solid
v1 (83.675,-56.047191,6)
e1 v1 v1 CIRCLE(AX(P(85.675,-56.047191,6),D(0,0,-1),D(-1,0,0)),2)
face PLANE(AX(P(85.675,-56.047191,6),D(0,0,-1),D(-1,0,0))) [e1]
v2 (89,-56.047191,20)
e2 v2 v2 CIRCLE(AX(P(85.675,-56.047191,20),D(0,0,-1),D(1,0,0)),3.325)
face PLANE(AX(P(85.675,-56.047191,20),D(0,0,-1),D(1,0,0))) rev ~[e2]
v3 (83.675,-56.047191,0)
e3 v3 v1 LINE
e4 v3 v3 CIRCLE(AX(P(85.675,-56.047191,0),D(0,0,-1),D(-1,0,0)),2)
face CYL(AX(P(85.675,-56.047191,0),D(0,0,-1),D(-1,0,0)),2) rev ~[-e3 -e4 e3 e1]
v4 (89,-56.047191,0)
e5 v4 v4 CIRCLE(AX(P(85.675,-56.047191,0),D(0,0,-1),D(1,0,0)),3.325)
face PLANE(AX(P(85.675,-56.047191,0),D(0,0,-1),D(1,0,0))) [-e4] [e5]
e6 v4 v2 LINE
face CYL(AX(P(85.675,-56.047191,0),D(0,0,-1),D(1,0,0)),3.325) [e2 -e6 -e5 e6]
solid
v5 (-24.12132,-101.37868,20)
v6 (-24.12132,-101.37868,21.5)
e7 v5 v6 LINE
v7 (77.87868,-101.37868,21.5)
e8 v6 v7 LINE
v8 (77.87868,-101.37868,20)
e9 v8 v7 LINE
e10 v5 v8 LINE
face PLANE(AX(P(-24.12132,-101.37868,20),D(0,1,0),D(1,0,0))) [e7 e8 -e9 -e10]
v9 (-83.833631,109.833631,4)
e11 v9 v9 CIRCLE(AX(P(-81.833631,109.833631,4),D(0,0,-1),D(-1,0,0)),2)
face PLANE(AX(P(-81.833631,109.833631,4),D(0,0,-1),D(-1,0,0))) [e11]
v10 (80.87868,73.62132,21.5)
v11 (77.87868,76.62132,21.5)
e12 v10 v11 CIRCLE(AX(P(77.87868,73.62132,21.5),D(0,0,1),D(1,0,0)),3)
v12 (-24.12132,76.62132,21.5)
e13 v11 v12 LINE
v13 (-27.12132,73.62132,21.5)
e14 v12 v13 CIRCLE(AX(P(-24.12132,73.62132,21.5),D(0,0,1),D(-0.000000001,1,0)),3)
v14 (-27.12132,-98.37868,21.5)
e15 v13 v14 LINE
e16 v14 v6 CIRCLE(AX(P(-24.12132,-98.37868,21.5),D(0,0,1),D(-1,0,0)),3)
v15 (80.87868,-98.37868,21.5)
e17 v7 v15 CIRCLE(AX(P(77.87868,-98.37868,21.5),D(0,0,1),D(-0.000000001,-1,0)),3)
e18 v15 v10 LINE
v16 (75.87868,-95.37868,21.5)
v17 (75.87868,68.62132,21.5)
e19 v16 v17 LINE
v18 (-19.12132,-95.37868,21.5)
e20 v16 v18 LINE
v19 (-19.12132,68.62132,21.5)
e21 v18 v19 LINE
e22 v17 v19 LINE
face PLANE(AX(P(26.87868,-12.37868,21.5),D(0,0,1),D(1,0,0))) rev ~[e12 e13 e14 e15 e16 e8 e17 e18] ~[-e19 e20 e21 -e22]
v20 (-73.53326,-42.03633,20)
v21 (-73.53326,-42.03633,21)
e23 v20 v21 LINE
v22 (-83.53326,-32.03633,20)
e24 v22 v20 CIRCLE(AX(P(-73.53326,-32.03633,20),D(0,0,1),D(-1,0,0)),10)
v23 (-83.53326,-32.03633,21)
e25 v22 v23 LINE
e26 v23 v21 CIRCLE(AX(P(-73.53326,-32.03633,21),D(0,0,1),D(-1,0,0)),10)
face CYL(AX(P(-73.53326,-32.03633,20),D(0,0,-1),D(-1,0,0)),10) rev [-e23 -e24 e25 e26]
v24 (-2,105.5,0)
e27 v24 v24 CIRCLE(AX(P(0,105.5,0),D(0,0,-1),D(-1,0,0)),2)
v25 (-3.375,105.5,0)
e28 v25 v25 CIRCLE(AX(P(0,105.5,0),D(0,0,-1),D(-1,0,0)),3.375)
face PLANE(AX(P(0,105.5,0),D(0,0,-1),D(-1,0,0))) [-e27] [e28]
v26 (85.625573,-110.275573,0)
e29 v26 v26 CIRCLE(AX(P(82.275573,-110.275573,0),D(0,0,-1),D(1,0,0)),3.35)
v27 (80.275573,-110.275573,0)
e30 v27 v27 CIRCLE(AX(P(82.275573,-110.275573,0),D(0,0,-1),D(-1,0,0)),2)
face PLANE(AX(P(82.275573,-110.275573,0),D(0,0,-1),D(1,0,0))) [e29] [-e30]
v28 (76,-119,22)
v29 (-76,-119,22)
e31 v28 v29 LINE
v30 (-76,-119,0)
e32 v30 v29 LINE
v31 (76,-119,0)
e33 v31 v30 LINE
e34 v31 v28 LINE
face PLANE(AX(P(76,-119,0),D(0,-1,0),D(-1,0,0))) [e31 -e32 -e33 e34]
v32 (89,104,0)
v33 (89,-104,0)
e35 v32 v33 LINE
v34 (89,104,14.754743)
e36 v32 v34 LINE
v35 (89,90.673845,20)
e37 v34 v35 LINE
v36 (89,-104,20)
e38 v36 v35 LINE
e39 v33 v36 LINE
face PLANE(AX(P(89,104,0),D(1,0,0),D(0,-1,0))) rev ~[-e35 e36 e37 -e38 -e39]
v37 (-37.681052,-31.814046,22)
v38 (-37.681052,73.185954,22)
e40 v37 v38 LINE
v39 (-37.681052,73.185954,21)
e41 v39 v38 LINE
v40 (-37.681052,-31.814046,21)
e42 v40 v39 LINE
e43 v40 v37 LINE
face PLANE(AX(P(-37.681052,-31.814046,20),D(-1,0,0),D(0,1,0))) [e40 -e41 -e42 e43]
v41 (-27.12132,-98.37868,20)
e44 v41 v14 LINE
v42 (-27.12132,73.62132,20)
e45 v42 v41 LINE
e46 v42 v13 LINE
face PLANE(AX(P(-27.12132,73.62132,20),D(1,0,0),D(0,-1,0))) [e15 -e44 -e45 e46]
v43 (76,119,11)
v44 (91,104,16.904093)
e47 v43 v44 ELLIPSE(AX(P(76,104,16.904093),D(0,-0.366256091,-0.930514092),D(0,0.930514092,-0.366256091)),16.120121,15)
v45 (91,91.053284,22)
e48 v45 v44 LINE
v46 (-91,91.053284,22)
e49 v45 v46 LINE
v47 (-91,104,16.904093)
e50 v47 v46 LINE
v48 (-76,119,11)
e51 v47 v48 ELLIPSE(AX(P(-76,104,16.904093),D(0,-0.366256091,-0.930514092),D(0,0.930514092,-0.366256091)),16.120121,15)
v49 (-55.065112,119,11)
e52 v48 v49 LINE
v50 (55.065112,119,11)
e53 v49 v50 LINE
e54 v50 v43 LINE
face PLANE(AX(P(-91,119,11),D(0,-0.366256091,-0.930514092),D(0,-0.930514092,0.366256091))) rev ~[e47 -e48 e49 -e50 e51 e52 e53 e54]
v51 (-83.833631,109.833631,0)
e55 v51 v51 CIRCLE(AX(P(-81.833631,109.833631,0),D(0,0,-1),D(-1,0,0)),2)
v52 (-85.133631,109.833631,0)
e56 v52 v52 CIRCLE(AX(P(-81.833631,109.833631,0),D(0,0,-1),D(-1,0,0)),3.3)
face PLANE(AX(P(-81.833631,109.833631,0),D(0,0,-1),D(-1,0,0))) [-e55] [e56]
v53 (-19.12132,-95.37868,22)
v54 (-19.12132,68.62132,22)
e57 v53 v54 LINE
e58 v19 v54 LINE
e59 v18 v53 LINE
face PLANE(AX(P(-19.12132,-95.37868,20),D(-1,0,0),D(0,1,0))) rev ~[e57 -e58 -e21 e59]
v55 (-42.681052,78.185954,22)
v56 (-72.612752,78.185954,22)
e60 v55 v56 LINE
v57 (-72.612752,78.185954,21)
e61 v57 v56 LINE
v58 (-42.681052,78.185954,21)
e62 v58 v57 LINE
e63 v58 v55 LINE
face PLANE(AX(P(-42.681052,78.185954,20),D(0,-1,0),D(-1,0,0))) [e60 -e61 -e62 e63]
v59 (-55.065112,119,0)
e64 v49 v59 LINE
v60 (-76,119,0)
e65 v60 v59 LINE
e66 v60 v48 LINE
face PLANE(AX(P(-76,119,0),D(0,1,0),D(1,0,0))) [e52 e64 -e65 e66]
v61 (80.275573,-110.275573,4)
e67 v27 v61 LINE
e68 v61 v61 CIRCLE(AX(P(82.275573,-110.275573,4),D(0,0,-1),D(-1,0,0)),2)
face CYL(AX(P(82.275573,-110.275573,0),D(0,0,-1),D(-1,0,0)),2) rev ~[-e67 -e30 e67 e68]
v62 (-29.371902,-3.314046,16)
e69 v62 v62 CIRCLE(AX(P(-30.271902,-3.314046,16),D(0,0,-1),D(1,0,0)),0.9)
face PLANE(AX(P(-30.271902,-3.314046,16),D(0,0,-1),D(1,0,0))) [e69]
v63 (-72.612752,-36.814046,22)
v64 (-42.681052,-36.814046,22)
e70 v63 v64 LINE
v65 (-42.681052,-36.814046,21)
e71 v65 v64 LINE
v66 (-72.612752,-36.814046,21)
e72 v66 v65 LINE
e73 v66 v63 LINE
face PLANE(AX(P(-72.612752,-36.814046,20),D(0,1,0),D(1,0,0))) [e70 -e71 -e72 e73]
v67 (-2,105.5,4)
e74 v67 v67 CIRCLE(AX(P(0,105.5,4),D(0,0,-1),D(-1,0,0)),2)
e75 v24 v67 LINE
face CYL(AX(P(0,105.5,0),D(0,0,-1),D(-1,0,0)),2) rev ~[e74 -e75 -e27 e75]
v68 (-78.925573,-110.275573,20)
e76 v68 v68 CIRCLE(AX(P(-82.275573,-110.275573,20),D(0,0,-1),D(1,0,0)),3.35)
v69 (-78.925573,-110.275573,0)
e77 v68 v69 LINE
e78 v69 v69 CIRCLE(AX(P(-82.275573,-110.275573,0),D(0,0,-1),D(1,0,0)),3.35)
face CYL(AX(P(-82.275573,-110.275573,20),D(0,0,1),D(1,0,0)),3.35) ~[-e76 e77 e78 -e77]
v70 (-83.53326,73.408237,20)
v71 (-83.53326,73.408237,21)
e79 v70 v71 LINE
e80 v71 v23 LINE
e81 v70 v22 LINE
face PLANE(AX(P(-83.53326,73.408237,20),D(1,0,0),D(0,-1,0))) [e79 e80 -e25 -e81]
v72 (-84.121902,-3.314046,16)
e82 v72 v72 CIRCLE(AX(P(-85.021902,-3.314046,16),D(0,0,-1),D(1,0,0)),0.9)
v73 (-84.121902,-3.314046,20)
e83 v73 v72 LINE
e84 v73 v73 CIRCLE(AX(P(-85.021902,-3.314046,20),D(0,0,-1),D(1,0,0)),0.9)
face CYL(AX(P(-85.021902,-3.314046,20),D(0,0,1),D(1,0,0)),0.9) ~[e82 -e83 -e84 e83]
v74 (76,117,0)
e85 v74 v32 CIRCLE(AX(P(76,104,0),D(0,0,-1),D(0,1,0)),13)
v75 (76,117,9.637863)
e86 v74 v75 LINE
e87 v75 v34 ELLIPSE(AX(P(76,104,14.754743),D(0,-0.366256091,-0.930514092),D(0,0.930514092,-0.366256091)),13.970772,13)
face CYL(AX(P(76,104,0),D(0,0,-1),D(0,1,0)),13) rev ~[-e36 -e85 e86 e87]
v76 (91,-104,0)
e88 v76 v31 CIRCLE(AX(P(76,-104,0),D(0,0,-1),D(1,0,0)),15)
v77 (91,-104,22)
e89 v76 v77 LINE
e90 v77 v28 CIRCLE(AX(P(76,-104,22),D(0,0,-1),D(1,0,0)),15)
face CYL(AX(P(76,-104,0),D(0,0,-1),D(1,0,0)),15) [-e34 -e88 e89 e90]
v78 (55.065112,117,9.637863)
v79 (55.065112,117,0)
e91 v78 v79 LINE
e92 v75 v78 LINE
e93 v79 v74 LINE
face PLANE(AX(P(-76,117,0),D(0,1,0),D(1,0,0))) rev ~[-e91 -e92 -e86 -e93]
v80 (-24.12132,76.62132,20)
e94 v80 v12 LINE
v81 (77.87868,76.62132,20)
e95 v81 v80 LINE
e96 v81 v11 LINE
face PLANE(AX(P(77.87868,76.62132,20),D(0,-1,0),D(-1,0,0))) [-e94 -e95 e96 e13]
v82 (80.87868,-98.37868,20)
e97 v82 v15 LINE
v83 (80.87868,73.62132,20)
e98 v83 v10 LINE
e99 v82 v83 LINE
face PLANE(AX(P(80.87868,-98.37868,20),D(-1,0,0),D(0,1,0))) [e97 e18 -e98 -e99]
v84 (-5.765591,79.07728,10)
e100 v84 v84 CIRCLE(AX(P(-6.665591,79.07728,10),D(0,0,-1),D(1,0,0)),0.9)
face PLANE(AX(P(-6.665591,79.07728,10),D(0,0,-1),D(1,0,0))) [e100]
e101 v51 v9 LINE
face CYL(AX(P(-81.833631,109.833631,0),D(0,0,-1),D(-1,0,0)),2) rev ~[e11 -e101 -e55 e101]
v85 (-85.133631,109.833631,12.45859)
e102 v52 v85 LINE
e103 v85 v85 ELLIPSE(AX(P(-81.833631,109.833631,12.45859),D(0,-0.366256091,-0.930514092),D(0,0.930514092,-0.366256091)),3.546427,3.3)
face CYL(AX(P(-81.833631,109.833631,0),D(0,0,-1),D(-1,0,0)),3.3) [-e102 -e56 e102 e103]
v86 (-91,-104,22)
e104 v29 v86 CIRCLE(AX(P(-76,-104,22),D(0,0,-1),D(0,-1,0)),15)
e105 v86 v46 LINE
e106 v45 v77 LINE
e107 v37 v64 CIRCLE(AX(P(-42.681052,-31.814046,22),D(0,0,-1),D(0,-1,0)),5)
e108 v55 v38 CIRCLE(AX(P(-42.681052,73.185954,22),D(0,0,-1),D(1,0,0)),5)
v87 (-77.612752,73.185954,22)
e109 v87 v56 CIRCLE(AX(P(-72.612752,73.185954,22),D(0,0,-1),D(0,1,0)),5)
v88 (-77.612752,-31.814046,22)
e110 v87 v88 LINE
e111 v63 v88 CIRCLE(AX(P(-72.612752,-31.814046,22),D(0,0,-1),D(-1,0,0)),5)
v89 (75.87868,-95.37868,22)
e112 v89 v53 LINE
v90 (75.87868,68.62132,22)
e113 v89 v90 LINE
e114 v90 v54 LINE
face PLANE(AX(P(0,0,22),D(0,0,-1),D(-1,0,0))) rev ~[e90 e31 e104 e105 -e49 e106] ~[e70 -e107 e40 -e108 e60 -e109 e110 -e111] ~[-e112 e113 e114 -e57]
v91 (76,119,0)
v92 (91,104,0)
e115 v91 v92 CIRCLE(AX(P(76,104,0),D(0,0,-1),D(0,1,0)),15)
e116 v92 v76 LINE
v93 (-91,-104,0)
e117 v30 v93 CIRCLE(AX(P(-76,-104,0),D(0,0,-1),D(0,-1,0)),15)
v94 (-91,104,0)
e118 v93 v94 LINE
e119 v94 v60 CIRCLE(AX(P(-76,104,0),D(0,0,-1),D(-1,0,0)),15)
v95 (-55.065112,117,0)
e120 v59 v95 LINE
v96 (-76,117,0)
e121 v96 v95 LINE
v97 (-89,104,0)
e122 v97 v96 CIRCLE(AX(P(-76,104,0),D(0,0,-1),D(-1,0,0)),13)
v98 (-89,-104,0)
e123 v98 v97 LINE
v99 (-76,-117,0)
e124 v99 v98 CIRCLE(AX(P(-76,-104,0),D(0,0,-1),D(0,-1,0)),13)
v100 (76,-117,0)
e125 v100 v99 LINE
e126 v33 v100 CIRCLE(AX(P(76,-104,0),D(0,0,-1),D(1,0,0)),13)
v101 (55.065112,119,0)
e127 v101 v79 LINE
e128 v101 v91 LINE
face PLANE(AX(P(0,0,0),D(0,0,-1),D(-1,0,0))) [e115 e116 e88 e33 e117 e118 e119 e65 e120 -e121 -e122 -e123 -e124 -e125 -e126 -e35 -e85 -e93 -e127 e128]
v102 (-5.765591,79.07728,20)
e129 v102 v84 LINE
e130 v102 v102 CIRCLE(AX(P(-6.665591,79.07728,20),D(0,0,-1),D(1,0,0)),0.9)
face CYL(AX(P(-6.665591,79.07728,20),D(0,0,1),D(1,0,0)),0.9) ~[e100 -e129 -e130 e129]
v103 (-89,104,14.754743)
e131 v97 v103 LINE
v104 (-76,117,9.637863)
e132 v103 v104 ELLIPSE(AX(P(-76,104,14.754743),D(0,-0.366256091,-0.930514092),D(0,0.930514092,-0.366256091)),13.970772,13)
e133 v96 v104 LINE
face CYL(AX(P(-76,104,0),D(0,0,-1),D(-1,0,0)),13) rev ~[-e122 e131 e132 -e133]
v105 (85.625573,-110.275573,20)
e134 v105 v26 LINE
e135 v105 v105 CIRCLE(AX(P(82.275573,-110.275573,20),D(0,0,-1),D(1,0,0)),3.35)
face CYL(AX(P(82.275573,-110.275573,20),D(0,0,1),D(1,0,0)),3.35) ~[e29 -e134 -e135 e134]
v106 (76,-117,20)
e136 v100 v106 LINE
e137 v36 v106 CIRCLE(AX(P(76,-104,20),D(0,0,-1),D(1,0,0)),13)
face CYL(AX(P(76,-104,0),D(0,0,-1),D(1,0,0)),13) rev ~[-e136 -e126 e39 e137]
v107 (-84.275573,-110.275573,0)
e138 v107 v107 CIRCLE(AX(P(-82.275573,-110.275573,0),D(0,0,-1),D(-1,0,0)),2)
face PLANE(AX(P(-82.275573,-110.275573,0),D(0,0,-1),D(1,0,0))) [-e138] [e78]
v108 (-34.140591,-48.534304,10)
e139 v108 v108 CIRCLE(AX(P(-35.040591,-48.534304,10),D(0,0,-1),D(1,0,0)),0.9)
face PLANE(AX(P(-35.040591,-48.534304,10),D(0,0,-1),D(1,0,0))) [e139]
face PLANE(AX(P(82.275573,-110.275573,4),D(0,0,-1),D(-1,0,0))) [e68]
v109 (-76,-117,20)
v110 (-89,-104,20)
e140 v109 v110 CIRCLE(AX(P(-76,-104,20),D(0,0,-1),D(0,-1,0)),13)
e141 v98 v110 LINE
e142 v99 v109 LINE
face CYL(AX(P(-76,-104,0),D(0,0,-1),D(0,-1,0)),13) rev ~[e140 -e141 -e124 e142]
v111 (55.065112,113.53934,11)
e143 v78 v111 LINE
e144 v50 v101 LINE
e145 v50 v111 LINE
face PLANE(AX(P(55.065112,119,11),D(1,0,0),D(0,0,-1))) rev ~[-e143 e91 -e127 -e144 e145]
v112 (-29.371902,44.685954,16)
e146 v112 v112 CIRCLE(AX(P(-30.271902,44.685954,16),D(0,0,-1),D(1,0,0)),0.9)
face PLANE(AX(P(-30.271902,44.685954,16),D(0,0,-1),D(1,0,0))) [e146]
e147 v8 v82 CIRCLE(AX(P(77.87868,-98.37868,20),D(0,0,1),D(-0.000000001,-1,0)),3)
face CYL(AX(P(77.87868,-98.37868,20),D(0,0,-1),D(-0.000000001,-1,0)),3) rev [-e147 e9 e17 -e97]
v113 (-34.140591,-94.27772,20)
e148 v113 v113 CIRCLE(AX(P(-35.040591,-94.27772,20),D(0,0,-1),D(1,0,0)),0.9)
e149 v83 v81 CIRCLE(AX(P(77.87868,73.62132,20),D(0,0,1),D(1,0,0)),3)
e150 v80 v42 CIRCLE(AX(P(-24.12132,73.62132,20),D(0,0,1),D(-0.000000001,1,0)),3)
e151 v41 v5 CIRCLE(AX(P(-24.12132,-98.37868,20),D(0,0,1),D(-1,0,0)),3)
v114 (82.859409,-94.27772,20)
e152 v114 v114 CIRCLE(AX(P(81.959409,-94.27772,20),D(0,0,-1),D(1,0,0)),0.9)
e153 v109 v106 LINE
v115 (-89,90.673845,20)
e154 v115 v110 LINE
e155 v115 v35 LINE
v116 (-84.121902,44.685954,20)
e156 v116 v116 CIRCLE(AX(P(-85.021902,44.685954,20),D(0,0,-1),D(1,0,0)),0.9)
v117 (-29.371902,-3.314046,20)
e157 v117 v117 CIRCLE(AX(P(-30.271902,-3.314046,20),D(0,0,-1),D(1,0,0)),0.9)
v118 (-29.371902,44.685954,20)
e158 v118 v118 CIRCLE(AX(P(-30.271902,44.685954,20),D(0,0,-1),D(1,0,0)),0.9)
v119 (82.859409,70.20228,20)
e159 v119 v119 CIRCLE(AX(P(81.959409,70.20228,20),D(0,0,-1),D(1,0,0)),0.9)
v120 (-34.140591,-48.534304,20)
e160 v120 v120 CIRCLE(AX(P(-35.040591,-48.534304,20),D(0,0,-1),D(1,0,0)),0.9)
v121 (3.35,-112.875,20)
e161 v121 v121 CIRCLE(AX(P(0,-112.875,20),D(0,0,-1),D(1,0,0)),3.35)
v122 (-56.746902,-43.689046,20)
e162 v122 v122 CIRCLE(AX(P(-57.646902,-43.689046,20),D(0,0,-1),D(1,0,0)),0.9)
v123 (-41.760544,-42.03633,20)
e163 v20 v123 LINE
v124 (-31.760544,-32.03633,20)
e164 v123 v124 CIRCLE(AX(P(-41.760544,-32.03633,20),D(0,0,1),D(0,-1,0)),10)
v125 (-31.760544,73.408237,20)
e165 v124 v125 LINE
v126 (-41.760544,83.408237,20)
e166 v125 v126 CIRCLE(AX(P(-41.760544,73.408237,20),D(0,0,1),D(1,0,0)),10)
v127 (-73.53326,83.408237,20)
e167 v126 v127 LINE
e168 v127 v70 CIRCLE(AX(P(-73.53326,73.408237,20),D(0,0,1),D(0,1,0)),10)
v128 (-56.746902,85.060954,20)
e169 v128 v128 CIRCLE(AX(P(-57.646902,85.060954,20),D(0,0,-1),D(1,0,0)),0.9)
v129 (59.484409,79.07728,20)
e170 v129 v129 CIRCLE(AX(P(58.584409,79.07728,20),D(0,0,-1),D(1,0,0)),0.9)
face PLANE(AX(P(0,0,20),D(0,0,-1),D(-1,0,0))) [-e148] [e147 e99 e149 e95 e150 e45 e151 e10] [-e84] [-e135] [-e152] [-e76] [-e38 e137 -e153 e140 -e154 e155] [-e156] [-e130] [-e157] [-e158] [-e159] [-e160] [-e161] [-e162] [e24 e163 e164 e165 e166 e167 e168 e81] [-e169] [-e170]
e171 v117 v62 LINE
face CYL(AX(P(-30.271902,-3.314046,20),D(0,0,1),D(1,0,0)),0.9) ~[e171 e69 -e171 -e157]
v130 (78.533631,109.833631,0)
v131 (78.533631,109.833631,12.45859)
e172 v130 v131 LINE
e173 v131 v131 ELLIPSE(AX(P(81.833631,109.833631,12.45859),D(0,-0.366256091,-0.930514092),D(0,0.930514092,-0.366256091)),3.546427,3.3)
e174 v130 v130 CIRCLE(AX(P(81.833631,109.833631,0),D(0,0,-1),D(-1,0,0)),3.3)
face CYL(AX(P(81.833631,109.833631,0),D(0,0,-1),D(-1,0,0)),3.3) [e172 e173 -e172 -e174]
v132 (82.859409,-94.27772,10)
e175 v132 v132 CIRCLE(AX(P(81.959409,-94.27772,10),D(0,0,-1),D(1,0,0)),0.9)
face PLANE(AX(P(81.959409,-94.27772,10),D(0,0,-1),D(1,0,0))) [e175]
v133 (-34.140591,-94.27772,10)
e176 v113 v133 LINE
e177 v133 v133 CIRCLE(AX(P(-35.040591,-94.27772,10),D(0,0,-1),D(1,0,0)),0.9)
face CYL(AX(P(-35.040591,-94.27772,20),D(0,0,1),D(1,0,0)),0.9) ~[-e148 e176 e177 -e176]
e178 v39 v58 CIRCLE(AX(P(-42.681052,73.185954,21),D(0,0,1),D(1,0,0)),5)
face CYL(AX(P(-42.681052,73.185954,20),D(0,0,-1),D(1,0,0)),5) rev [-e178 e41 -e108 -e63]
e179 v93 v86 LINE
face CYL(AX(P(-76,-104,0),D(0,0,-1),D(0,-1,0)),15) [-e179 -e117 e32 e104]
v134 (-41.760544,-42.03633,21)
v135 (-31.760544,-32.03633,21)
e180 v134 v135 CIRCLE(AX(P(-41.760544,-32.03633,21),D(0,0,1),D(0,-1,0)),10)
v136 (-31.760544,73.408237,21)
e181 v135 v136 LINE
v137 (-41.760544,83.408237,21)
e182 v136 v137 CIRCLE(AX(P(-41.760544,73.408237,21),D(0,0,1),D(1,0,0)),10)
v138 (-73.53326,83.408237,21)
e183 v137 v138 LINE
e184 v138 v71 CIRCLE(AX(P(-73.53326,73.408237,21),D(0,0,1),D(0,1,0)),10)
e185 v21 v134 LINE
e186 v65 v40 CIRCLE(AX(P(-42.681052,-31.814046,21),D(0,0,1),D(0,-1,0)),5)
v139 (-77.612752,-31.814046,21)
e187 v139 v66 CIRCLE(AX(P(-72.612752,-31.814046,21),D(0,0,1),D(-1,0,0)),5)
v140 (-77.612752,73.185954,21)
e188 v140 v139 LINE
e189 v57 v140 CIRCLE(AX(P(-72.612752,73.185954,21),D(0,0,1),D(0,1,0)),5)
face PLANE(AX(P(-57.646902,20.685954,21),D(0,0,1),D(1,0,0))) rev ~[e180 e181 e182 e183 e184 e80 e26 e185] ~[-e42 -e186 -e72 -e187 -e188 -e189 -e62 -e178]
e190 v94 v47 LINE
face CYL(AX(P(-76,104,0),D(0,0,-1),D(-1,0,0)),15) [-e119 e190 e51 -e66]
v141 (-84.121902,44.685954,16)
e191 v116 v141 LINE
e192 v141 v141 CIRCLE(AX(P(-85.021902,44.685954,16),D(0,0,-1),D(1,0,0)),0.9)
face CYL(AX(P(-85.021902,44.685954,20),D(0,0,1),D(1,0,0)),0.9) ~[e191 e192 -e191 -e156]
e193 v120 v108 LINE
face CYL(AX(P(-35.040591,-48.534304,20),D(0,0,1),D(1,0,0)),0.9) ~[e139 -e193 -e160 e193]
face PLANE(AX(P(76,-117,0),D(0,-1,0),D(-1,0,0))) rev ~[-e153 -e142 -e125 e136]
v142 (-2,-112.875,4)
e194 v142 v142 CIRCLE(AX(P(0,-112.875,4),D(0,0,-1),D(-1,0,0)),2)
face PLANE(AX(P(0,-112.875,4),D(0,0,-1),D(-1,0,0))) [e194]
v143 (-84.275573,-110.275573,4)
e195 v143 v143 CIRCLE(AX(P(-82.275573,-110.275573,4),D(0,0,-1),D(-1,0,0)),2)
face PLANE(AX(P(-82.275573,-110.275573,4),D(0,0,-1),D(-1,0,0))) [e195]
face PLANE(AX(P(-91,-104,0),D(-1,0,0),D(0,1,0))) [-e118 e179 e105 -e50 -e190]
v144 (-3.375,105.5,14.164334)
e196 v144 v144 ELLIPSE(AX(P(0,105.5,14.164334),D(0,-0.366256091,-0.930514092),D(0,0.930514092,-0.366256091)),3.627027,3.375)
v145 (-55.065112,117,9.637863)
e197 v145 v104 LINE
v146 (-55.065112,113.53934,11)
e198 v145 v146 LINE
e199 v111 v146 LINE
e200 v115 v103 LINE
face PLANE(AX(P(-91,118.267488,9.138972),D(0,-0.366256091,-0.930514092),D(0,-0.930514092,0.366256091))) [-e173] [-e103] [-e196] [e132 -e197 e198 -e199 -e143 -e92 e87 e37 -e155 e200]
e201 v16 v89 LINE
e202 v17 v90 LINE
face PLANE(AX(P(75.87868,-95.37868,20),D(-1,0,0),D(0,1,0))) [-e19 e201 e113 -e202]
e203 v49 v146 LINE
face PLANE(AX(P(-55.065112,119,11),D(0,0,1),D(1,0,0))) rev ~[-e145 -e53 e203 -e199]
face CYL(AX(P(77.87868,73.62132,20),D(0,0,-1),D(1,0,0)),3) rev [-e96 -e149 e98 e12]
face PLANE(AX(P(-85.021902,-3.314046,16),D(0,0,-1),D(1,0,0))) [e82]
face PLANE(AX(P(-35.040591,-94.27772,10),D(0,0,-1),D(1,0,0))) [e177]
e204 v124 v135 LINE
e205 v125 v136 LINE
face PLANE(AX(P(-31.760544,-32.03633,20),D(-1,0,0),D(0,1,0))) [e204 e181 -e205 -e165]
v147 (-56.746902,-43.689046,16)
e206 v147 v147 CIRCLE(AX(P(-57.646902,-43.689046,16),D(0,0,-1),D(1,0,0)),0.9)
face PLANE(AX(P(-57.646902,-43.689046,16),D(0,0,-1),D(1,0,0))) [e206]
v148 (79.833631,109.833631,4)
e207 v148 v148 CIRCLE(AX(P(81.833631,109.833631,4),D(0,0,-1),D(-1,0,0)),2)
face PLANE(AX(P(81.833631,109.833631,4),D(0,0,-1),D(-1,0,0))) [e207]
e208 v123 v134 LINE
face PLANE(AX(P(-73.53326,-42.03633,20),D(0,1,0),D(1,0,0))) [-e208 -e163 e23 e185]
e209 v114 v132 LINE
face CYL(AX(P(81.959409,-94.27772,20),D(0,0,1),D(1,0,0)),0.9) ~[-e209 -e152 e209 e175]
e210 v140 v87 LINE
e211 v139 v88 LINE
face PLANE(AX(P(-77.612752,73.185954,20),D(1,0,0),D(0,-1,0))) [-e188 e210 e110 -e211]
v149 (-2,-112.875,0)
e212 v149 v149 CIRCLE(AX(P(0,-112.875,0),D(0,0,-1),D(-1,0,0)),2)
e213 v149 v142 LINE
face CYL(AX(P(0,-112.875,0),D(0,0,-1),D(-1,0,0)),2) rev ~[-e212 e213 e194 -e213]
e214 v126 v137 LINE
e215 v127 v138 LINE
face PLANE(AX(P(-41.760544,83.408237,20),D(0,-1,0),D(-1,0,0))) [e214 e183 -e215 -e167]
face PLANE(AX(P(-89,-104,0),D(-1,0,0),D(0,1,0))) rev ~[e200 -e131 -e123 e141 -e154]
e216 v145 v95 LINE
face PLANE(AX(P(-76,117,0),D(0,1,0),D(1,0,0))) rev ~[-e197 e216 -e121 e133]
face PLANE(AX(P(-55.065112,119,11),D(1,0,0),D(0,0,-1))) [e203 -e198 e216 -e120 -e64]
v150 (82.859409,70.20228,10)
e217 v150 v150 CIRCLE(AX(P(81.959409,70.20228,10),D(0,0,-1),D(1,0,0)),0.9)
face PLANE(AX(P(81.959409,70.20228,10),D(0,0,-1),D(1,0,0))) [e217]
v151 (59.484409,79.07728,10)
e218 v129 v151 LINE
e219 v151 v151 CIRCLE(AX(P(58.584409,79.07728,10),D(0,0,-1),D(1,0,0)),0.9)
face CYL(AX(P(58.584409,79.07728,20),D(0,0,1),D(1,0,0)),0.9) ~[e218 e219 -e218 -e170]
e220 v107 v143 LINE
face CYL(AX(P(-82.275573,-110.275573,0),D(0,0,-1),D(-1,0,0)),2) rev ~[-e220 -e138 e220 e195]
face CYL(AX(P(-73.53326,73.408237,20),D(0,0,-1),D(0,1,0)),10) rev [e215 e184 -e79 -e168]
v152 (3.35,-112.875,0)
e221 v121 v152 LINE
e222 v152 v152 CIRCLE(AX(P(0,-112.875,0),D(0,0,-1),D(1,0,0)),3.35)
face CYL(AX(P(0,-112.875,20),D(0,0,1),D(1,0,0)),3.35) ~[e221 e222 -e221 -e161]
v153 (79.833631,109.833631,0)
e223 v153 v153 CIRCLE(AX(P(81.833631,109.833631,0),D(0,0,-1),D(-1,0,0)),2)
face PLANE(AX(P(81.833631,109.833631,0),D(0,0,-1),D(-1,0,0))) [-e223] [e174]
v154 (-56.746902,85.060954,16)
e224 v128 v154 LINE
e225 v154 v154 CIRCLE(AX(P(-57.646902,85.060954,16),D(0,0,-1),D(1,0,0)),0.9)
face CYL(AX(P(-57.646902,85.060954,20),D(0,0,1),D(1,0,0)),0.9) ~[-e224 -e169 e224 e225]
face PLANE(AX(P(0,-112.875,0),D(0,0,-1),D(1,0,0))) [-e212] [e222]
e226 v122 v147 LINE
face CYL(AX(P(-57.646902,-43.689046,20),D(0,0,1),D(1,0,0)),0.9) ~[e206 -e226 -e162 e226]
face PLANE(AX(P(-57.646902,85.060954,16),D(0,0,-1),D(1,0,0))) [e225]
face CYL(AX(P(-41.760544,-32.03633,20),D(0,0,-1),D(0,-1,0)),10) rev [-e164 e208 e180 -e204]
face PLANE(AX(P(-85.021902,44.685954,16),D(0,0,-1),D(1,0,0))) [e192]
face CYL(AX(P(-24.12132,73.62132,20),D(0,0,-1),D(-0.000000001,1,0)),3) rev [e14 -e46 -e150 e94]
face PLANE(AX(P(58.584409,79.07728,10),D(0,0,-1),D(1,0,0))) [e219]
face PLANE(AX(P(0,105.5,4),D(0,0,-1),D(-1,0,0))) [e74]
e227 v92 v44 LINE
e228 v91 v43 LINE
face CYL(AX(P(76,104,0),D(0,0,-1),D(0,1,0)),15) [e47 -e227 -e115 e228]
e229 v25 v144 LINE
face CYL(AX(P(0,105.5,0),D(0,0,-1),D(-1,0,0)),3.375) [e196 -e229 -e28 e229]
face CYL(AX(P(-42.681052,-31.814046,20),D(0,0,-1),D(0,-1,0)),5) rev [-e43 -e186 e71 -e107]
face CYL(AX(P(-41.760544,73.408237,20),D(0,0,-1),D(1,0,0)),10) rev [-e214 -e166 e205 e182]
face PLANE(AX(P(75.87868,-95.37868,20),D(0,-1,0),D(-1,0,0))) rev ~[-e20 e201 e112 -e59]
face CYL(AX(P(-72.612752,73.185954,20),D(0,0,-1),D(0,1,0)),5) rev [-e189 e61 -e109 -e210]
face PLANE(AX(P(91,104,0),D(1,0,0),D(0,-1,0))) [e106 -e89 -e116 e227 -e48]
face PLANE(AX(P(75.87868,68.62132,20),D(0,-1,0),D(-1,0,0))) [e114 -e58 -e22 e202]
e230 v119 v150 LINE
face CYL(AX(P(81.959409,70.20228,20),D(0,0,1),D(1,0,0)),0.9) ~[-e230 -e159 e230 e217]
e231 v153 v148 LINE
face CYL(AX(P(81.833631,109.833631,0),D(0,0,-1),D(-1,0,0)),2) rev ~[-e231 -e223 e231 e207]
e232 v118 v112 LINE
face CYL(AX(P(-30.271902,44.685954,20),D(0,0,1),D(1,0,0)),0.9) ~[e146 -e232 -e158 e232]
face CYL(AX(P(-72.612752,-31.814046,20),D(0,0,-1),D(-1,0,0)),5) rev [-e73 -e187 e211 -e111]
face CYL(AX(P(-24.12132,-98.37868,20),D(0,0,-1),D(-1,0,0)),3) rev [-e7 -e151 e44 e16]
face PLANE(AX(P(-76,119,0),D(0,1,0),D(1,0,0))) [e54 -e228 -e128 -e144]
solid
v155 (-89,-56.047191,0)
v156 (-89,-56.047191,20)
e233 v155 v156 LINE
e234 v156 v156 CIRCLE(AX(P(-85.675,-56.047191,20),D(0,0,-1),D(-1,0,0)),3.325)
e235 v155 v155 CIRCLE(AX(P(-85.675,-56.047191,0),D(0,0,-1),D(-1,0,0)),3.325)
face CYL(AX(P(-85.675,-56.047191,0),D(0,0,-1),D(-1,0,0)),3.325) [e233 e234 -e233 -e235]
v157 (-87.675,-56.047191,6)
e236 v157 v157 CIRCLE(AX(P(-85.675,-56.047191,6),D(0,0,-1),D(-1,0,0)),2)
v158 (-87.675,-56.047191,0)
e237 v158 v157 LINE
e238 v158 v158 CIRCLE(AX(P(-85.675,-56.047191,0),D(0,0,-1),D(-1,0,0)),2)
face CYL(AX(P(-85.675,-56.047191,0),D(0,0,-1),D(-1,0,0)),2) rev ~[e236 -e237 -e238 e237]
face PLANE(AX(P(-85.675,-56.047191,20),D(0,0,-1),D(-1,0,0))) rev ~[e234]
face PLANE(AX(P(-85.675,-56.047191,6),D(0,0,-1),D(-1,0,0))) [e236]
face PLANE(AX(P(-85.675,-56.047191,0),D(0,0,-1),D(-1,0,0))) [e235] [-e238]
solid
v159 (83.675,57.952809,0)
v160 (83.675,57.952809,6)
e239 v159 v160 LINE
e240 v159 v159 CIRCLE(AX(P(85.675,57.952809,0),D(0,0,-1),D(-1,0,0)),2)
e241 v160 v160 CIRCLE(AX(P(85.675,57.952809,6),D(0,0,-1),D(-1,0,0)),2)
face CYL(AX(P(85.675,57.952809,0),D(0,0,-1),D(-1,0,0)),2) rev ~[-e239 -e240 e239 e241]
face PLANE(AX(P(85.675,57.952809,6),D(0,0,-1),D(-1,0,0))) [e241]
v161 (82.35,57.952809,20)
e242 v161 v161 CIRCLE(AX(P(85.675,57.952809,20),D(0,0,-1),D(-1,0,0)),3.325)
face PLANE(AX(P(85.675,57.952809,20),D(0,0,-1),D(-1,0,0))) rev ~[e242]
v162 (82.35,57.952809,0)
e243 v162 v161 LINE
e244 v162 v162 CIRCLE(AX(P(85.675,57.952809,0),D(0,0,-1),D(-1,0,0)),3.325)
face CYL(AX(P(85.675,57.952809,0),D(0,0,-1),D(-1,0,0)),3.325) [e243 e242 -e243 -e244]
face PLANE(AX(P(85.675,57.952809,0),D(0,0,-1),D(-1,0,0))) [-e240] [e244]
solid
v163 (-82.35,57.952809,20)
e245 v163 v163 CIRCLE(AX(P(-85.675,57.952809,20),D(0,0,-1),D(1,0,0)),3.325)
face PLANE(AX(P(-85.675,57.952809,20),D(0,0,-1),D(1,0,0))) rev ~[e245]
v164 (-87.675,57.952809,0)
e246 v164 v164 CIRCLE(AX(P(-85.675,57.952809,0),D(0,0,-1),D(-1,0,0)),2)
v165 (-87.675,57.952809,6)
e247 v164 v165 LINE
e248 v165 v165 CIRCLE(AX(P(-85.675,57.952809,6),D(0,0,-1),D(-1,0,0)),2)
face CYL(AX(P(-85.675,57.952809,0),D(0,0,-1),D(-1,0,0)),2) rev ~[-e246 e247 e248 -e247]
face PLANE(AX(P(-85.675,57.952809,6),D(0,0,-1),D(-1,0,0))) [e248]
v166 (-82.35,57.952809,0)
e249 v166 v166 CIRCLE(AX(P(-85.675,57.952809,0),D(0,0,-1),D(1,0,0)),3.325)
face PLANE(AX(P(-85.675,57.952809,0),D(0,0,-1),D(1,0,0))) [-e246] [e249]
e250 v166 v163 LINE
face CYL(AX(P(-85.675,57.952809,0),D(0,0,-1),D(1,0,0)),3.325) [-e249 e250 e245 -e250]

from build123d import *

# Parameters (mm, degrees)
BOSS_EXTRUDE1_DEPTH    = 22
CUT_EXTRUDE2_DEPTH     = 190.5
SHELL2_T               = -2
SKETCH5_R              = 3.35
BOSS_EXTRUDE7_DEPTH    = 20
BOSS_EXTRUDE8_REACH    = 153.413
SKETCH6_R              = 3.375
SKETCH6_R_2            = 3.3
SKETCH7_R              = 2
CUT_EXTRUDE3_DEPTH     = 4
SKETCH8_W              = 110.130223608
SKETCH8_H              = 11
CUT_EXTRUDE4_DEPTH     = 10
SKETCH9_R              = 3.325
BOSS_EXTRUDE10_DEPTH   = 20
BOSS_EXTRUDE10_2_DEPTH = 20
BOSS_EXTRUDE10_3_DEPTH = 20
BOSS_EXTRUDE10_4_DEPTH = 20
SKETCH10_R             = 2
CUT_EXTRUDE5_DEPTH     = 6
SKETCH12_W             = 95
SKETCH12_H             = 164
CUT_EXTRUDE6_DEPTH     = 10
SKETCH12_3_W           = 95
SKETCH12_3_H           = 164
CUT_EXTRUDE7_DEPTH     = 1.5
CUT_EXTRUDE8_DEPTH     = 10
CUT_EXTRUDE10_DEPTH    = 1
SKETCH14_R             = 0.9
BOSS_EXTRUDE11_DEPTH   = 4
SKETCH15_R             = 0.9
BOSS_EXTRUDE12_DEPTH   = 10


with BuildPart() as part:
    # Sketch1 → Boss-Extrude1 (new body)
    with BuildSketch(Plane.XY):
        with BuildLine():
            Line((-76, 119), (76, 119))
            ThreePointArc((76, 119), (86.606601718, 114.606601718), (91, 104))
            Line((91, 104), (91, -104))
            ThreePointArc((91, -104), (86.606601718, -114.606601718), (76, -119))
            Line((76, -119), (-76, -119))
            ThreePointArc((-76, -119), (-86.606601718, -114.606601718), (-91, -104))
            Line((-91, -104), (-91, 104))
            ThreePointArc((-91, 104), (-86.606601718, 114.606601718), (-76, 119))
        make_face()
    extrude(amount=BOSS_EXTRUDE1_DEPTH)

    # Sketch3 → Cut-Extrude2 (cut, symmetric)
    with BuildSketch(Plane.ZY.offset(91)):
        Polygon((11, 119), (22, 91.053283882), (22, 119), align=None)
    extrude(amount=CUT_EXTRUDE2_DEPTH, both=True, mode=Mode.SUBTRACT)

    # Shell2
    shell2_openings = [part.faces().sort_by_distance(p)[0] for p in [
        (0, 0, 0),
    ]]
    offset(amount=SHELL2_T, openings=shell2_openings, kind=Kind.INTERSECTION)

    # Sketch5 → Boss-Extrude7 (add)
    with BuildSketch(Plane(origin=(0, 0, 20), x_dir=(-1, 0, 0), z_dir=(0, 0, -1))):
        with Locations(Location((0, -112.875, 0), (0, 0, 180))):
            Circle(SKETCH5_R)
        with Locations(Location((-82.275572683, -110.275572683, 0), (0, 0, 180))):
            Circle(SKETCH5_R)
        with Locations(Location((82.275572683, -110.275572683, 0), (0, 0, 180))):
            Circle(SKETCH5_R)
    extrude(amount=BOSS_EXTRUDE7_DEPTH)

    # Boss-Extrude8: up to this plane
    boss_extrude8_end = Plane(origin=(99.5, 118.267487817, 9.138971816), z_dir=(0, -0.3662560913903144, -0.9305140920585189))
    # Sketch6 → Boss-Extrude8 (add, up to the surface)
    with BuildSketch(Plane(origin=(0, 0, 0), x_dir=(-1, 0, 0), z_dir=(0, 0, -1)), mode=Mode.PRIVATE) as boss_extrude8_sk1:
        with Locations((0, 105.5)):
            Circle(SKETCH6_R)
    boss_extrude8_tool1 = split(extrude(boss_extrude8_sk1.sketch, amount=-BOSS_EXTRUDE8_REACH, mode=Mode.PRIVATE), bisect_by=boss_extrude8_end, keep=Keep.BOTH, mode=Mode.PRIVATE)
    add(boss_extrude8_tool1.solids().sort_by_distance((0, 105.5, 0))[0])
    # Sketch6 → Boss-Extrude8 (add, up to the surface)
    with BuildSketch(Plane(origin=(0, 0, 0), x_dir=(-1, 0, 0), z_dir=(0, 0, -1)), mode=Mode.PRIVATE) as boss_extrude8_sk2:
        with Locations((-81.833630945, 109.833630945)):
            Circle(SKETCH6_R_2)
    boss_extrude8_tool2 = split(extrude(boss_extrude8_sk2.sketch, amount=-BOSS_EXTRUDE8_REACH, mode=Mode.PRIVATE), bisect_by=boss_extrude8_end, keep=Keep.BOTH, mode=Mode.PRIVATE)
    add(boss_extrude8_tool2.solids().sort_by_distance((81.833631, 109.833631, 0))[0])
    # Sketch6 → Boss-Extrude8 (add, up to the surface)
    with BuildSketch(Plane(origin=(0, 0, 0), x_dir=(-1, 0, 0), z_dir=(0, 0, -1)), mode=Mode.PRIVATE) as boss_extrude8_sk3:
        with Locations((81.833630945, 109.833630945)):
            Circle(SKETCH6_R_2)
    boss_extrude8_tool3 = split(extrude(boss_extrude8_sk3.sketch, amount=-BOSS_EXTRUDE8_REACH, mode=Mode.PRIVATE), bisect_by=boss_extrude8_end, keep=Keep.BOTH, mode=Mode.PRIVATE)
    add(boss_extrude8_tool3.solids().sort_by_distance((-81.833631, 109.833631, 0))[0])

    # Sketch7 → Cut-Extrude3 (cut)
    with BuildSketch(Plane(origin=(0, 0, 0), x_dir=(-1, 0, 0), z_dir=(0, 0, -1))):
        with Locations((-82.275572683, -110.275572683)):
            Circle(SKETCH7_R)
        with Locations((0, -112.875)):
            Circle(SKETCH7_R)
        with Locations((82.275572683, -110.275572683)):
            Circle(SKETCH7_R)
        with Locations((81.833630945, 109.833630945)):
            Circle(SKETCH7_R)
        with Locations((0, 105.5)):
            Circle(SKETCH7_R)
        with Locations((-81.833630945, 109.833630945)):
            Circle(SKETCH7_R)
    extrude(amount=-CUT_EXTRUDE3_DEPTH, mode=Mode.SUBTRACT)

    # Sketch8 → Cut-Extrude4 (cut)
    with BuildSketch(Plane(origin=(0, 119, 0), x_dir=(1, 0, 0), z_dir=(0, 1, 0))):
        with Locations((0, -5.5)):
            Rectangle(SKETCH8_W, SKETCH8_H)
    extrude(amount=-CUT_EXTRUDE4_DEPTH, mode=Mode.SUBTRACT)

    # Sketch12 → Cut-Extrude6 (cut)
    with BuildSketch(Plane(origin=(0, 0, 20), x_dir=(-1, 0, 0), z_dir=(0, 0, -1))):
        with Locations((-28.378679656, -13.378679656)):
            Rectangle(SKETCH12_W, SKETCH12_H)
    extrude(amount=-CUT_EXTRUDE6_DEPTH, mode=Mode.SUBTRACT)

    # Sketch12<3> → Cut-Extrude7 (cut)
    with BuildSketch(Plane(origin=(0, 0, 20), x_dir=(-1, 0, 0), z_dir=(0, 0, -1))):
        with BuildLine():
            Line((-77.878679656, 76.621320344), (24.121320344, 76.621320344))
            ThreePointArc((24.121320344, 76.621320344), (26.242640687, 75.742640687), (27.121320344, 73.621320344))
            Line((27.121320344, 73.621320344), (27.121320344, -98.378679656))
            ThreePointArc((27.121320344, -98.378679656), (26.242640687, -100.5), (24.121320344, -101.378679656))
            Line((24.121320344, -101.378679656), (-77.878679656, -101.378679656))
            ThreePointArc((-77.878679656, -101.378679656), (-80, -100.5), (-80.878679656, -98.378679656))
            Line((-80.878679656, -98.378679656), (-80.878679656, 73.621320344))
            ThreePointArc((-80.878679656, 73.621320344), (-80, 75.742640687), (-77.878679656, 76.621320344))
        make_face()
        with Locations((-28.378679656, -13.378679656)):
            Rectangle(SKETCH12_3_W, SKETCH12_3_H, mode=Mode.SUBTRACT)
    extrude(amount=-CUT_EXTRUDE7_DEPTH, mode=Mode.SUBTRACT)

    # Sketch13 → Cut-Extrude8 (cut)
    with BuildSketch(Plane(origin=(0, 0, 20), x_dir=(-1, 0, 0), z_dir=(0, 0, -1))):
        with BuildLine():
            Line((42.681051741, 78.185953944), (72.612751843, 78.185953944))
            ThreePointArc((72.612751843, 78.185953944), (76.148285749, 76.72148785), (77.612751843, 73.185953944))
            Line((77.612751843, 73.185953944), (77.612751843, -31.814046056))
            ThreePointArc((77.612751843, -31.814046056), (76.148285749, -35.349579962), (72.612751843, -36.814046056))
            Line((72.612751843, -36.814046056), (42.681051741, -36.814046056))
            ThreePointArc((42.681051741, -36.814046056), (39.145517835, -35.349579962), (37.681051741, -31.814046056))
            Line((37.681051741, -31.814046056), (37.681051741, 73.185953944))
            ThreePointArc((37.681051741, 73.185953944), (39.145517835, 76.72148785), (42.681051741, 78.185953944))
        make_face()
    extrude(amount=-CUT_EXTRUDE8_DEPTH, mode=Mode.SUBTRACT)

    # Sketch13<4> → Cut-Extrude10 (cut)
    with BuildSketch(Plane(origin=(0, 0, 20), x_dir=(-1, 0, 0), z_dir=(0, 0, -1))):
        with BuildLine():
            Line((41.760543847, 83.408237481), (73.533259737, 83.408237481))
            ThreePointArc((73.533259737, 83.408237481), (80.604327549, 80.479305293), (83.533259737, 73.408237481))
            Line((83.533259737, 73.408237481), (83.533259737, -32.036329593))
            ThreePointArc((83.533259737, -32.036329593), (80.604327549, -39.107397405), (73.533259737, -42.036329593))
            Line((73.533259737, -42.036329593), (41.760543847, -42.036329593))
            ThreePointArc((41.760543847, -42.036329593), (34.689476035, -39.107397405), (31.760543847, -32.036329593))
            Line((31.760543847, -32.036329593), (31.760543847, 73.408237481))
            ThreePointArc((31.760543847, 73.408237481), (34.689476035, 80.479305293), (41.760543847, 83.408237481))
        make_face()
        with BuildLine():
            Line((42.681051741, 78.185953944), (72.612751843, 78.185953944))
            ThreePointArc((72.612751843, 78.185953944), (76.148285749, 76.72148785), (77.612751843, 73.185953944))
            Line((77.612751843, 73.185953944), (77.612751843, -31.814046056))
            ThreePointArc((77.612751843, -31.814046056), (76.148285749, -35.349579962), (72.612751843, -36.814046056))
            Line((72.612751843, -36.814046056), (42.681051741, -36.814046056))
            ThreePointArc((42.681051741, -36.814046056), (39.145517835, -35.349579962), (37.681051741, -31.814046056))
            Line((37.681051741, -31.814046056), (37.681051741, 73.185953944))
            ThreePointArc((37.681051741, 73.185953944), (39.145517835, 76.72148785), (42.681051741, 78.185953944))
        make_face(mode=Mode.SUBTRACT)
    extrude(amount=-CUT_EXTRUDE10_DEPTH, mode=Mode.SUBTRACT)

    # Sketch14 → Boss-Extrude11 (add)
    with BuildSketch(Plane(origin=(0, 0, 20), x_dir=(-1, 0, 0), z_dir=(0, 0, -1))):
        with Locations(Location((85.021901792, -3.314046056, 0), (0, 0, 180))):
            Circle(SKETCH14_R)
        with Locations(Location((85.021901792, 44.685953944, 0), (0, 0, 180))):
            Circle(SKETCH14_R)
        with Locations(Location((30.271901792, 44.685953944, 0), (0, 0, 180))):
            Circle(SKETCH14_R)
        with Locations(Location((57.646901792, 85.060953944, 0), (0, 0, 180))):
            Circle(SKETCH14_R)
        with Locations(Location((30.271901792, -3.314046056, 0), (0, 0, 180))):
            Circle(SKETCH14_R)
        with Locations(Location((57.646901792, -43.689046056, 0), (0, 0, 180))):
            Circle(SKETCH14_R)
    extrude(amount=BOSS_EXTRUDE11_DEPTH)

    # Sketch15 → Boss-Extrude12 (add)
    with BuildSketch(Plane(origin=(0, 0, 20), x_dir=(-1, 0, 0), z_dir=(0, 0, -1))):
        with Locations(Location((35.040591128, -94.277720483, 0), (0, 0, 180))):
            Circle(SKETCH15_R)
        with Locations(Location((35.040591128, -48.53430384, 0), (0, 0, 180))):
            Circle(SKETCH15_R)
        with Locations(Location((6.665591128, 79.077279517, 0), (0, 0, 180))):
            Circle(SKETCH15_R)
        with Locations(Location((-58.584408872, 79.077279517, 0), (0, 0, 180))):
            Circle(SKETCH15_R)
        with Locations(Location((-81.959408872, 70.202279517, 0), (0, 0, 180))):
            Circle(SKETCH15_R)
        with Locations(Location((-81.959408872, -94.277720483, 0), (0, 0, 180))):
            Circle(SKETCH15_R)
    extrude(amount=BOSS_EXTRUDE12_DEPTH)


with BuildPart() as body_2:
    # Sketch9 → Boss-Extrude10 (new body)
    with BuildSketch(Plane(origin=(0, 0, 0), x_dir=(-1, 0, 0), z_dir=(0, 0, -1))):
        with Locations((-85.675, 57.95280878)):
            Circle(SKETCH9_R)
    extrude(amount=-BOSS_EXTRUDE10_DEPTH)


with BuildPart() as body_3:
    # Sketch9 → Boss-Extrude10 2 (new body)
    with BuildSketch(Plane(origin=(0, 0, 0), x_dir=(-1, 0, 0), z_dir=(0, 0, -1))):
        with Locations(Location((85.675, 57.95280878, 0), (0, 0, 180))):
            Circle(SKETCH9_R)
    extrude(amount=-BOSS_EXTRUDE10_2_DEPTH)


with BuildPart() as body_4:
    # Sketch9 → Boss-Extrude10 3 (new body)
    with BuildSketch(Plane(origin=(0, 0, 0), x_dir=(-1, 0, 0), z_dir=(0, 0, -1))):
        with Locations(Location((-85.675, -56.04719122, 0), (0, 0, 180))):
            Circle(SKETCH9_R)
    extrude(amount=-BOSS_EXTRUDE10_3_DEPTH)


with BuildPart() as body_5:
    # Sketch9 → Boss-Extrude10 4 (new body)
    with BuildSketch(Plane(origin=(0, 0, 0), x_dir=(-1, 0, 0), z_dir=(0, 0, -1))):
        with Locations((85.675, -56.04719122)):
            Circle(SKETCH9_R)
    extrude(amount=-BOSS_EXTRUDE10_4_DEPTH)


with BuildPart() as cut_extrude5_tool:
    # Sketch10 → Cut-Extrude5 (new body)
    with BuildSketch(Plane(origin=(0, 0, 0), x_dir=(-1, 0, 0), z_dir=(0, 0, -1))):
        with Locations((-85.675, 57.95280878)):
            Circle(SKETCH10_R)
        with Locations((-85.675, -56.04719122)):
            Circle(SKETCH10_R)
        with Locations((85.675, -56.04719122)):
            Circle(SKETCH10_R)
        with Locations((85.675, 57.95280878)):
            Circle(SKETCH10_R)
    extrude(amount=-CUT_EXTRUDE5_DEPTH)


with BuildPart() as body_2_1:
    add(body_2.part)

    # Cut-Extrude5: cut by cut_extrude5_tool
    add(cut_extrude5_tool.part, mode=Mode.SUBTRACT)


with BuildPart() as body_3_1:
    add(body_3.part)

    # Cut-Extrude5: cut by cut_extrude5_tool
    add(cut_extrude5_tool.part, mode=Mode.SUBTRACT)


with BuildPart() as body_4_1:
    add(body_4.part)

    # Cut-Extrude5: cut by cut_extrude5_tool
    add(cut_extrude5_tool.part, mode=Mode.SUBTRACT)


with BuildPart() as body_5_1:
    add(body_5.part)

    # Cut-Extrude5: cut by cut_extrude5_tool
    add(cut_extrude5_tool.part, mode=Mode.SUBTRACT)


solid = Compound([part.part, body_2_1.part, body_3_1.part, body_4_1.part, body_5_1.part])
